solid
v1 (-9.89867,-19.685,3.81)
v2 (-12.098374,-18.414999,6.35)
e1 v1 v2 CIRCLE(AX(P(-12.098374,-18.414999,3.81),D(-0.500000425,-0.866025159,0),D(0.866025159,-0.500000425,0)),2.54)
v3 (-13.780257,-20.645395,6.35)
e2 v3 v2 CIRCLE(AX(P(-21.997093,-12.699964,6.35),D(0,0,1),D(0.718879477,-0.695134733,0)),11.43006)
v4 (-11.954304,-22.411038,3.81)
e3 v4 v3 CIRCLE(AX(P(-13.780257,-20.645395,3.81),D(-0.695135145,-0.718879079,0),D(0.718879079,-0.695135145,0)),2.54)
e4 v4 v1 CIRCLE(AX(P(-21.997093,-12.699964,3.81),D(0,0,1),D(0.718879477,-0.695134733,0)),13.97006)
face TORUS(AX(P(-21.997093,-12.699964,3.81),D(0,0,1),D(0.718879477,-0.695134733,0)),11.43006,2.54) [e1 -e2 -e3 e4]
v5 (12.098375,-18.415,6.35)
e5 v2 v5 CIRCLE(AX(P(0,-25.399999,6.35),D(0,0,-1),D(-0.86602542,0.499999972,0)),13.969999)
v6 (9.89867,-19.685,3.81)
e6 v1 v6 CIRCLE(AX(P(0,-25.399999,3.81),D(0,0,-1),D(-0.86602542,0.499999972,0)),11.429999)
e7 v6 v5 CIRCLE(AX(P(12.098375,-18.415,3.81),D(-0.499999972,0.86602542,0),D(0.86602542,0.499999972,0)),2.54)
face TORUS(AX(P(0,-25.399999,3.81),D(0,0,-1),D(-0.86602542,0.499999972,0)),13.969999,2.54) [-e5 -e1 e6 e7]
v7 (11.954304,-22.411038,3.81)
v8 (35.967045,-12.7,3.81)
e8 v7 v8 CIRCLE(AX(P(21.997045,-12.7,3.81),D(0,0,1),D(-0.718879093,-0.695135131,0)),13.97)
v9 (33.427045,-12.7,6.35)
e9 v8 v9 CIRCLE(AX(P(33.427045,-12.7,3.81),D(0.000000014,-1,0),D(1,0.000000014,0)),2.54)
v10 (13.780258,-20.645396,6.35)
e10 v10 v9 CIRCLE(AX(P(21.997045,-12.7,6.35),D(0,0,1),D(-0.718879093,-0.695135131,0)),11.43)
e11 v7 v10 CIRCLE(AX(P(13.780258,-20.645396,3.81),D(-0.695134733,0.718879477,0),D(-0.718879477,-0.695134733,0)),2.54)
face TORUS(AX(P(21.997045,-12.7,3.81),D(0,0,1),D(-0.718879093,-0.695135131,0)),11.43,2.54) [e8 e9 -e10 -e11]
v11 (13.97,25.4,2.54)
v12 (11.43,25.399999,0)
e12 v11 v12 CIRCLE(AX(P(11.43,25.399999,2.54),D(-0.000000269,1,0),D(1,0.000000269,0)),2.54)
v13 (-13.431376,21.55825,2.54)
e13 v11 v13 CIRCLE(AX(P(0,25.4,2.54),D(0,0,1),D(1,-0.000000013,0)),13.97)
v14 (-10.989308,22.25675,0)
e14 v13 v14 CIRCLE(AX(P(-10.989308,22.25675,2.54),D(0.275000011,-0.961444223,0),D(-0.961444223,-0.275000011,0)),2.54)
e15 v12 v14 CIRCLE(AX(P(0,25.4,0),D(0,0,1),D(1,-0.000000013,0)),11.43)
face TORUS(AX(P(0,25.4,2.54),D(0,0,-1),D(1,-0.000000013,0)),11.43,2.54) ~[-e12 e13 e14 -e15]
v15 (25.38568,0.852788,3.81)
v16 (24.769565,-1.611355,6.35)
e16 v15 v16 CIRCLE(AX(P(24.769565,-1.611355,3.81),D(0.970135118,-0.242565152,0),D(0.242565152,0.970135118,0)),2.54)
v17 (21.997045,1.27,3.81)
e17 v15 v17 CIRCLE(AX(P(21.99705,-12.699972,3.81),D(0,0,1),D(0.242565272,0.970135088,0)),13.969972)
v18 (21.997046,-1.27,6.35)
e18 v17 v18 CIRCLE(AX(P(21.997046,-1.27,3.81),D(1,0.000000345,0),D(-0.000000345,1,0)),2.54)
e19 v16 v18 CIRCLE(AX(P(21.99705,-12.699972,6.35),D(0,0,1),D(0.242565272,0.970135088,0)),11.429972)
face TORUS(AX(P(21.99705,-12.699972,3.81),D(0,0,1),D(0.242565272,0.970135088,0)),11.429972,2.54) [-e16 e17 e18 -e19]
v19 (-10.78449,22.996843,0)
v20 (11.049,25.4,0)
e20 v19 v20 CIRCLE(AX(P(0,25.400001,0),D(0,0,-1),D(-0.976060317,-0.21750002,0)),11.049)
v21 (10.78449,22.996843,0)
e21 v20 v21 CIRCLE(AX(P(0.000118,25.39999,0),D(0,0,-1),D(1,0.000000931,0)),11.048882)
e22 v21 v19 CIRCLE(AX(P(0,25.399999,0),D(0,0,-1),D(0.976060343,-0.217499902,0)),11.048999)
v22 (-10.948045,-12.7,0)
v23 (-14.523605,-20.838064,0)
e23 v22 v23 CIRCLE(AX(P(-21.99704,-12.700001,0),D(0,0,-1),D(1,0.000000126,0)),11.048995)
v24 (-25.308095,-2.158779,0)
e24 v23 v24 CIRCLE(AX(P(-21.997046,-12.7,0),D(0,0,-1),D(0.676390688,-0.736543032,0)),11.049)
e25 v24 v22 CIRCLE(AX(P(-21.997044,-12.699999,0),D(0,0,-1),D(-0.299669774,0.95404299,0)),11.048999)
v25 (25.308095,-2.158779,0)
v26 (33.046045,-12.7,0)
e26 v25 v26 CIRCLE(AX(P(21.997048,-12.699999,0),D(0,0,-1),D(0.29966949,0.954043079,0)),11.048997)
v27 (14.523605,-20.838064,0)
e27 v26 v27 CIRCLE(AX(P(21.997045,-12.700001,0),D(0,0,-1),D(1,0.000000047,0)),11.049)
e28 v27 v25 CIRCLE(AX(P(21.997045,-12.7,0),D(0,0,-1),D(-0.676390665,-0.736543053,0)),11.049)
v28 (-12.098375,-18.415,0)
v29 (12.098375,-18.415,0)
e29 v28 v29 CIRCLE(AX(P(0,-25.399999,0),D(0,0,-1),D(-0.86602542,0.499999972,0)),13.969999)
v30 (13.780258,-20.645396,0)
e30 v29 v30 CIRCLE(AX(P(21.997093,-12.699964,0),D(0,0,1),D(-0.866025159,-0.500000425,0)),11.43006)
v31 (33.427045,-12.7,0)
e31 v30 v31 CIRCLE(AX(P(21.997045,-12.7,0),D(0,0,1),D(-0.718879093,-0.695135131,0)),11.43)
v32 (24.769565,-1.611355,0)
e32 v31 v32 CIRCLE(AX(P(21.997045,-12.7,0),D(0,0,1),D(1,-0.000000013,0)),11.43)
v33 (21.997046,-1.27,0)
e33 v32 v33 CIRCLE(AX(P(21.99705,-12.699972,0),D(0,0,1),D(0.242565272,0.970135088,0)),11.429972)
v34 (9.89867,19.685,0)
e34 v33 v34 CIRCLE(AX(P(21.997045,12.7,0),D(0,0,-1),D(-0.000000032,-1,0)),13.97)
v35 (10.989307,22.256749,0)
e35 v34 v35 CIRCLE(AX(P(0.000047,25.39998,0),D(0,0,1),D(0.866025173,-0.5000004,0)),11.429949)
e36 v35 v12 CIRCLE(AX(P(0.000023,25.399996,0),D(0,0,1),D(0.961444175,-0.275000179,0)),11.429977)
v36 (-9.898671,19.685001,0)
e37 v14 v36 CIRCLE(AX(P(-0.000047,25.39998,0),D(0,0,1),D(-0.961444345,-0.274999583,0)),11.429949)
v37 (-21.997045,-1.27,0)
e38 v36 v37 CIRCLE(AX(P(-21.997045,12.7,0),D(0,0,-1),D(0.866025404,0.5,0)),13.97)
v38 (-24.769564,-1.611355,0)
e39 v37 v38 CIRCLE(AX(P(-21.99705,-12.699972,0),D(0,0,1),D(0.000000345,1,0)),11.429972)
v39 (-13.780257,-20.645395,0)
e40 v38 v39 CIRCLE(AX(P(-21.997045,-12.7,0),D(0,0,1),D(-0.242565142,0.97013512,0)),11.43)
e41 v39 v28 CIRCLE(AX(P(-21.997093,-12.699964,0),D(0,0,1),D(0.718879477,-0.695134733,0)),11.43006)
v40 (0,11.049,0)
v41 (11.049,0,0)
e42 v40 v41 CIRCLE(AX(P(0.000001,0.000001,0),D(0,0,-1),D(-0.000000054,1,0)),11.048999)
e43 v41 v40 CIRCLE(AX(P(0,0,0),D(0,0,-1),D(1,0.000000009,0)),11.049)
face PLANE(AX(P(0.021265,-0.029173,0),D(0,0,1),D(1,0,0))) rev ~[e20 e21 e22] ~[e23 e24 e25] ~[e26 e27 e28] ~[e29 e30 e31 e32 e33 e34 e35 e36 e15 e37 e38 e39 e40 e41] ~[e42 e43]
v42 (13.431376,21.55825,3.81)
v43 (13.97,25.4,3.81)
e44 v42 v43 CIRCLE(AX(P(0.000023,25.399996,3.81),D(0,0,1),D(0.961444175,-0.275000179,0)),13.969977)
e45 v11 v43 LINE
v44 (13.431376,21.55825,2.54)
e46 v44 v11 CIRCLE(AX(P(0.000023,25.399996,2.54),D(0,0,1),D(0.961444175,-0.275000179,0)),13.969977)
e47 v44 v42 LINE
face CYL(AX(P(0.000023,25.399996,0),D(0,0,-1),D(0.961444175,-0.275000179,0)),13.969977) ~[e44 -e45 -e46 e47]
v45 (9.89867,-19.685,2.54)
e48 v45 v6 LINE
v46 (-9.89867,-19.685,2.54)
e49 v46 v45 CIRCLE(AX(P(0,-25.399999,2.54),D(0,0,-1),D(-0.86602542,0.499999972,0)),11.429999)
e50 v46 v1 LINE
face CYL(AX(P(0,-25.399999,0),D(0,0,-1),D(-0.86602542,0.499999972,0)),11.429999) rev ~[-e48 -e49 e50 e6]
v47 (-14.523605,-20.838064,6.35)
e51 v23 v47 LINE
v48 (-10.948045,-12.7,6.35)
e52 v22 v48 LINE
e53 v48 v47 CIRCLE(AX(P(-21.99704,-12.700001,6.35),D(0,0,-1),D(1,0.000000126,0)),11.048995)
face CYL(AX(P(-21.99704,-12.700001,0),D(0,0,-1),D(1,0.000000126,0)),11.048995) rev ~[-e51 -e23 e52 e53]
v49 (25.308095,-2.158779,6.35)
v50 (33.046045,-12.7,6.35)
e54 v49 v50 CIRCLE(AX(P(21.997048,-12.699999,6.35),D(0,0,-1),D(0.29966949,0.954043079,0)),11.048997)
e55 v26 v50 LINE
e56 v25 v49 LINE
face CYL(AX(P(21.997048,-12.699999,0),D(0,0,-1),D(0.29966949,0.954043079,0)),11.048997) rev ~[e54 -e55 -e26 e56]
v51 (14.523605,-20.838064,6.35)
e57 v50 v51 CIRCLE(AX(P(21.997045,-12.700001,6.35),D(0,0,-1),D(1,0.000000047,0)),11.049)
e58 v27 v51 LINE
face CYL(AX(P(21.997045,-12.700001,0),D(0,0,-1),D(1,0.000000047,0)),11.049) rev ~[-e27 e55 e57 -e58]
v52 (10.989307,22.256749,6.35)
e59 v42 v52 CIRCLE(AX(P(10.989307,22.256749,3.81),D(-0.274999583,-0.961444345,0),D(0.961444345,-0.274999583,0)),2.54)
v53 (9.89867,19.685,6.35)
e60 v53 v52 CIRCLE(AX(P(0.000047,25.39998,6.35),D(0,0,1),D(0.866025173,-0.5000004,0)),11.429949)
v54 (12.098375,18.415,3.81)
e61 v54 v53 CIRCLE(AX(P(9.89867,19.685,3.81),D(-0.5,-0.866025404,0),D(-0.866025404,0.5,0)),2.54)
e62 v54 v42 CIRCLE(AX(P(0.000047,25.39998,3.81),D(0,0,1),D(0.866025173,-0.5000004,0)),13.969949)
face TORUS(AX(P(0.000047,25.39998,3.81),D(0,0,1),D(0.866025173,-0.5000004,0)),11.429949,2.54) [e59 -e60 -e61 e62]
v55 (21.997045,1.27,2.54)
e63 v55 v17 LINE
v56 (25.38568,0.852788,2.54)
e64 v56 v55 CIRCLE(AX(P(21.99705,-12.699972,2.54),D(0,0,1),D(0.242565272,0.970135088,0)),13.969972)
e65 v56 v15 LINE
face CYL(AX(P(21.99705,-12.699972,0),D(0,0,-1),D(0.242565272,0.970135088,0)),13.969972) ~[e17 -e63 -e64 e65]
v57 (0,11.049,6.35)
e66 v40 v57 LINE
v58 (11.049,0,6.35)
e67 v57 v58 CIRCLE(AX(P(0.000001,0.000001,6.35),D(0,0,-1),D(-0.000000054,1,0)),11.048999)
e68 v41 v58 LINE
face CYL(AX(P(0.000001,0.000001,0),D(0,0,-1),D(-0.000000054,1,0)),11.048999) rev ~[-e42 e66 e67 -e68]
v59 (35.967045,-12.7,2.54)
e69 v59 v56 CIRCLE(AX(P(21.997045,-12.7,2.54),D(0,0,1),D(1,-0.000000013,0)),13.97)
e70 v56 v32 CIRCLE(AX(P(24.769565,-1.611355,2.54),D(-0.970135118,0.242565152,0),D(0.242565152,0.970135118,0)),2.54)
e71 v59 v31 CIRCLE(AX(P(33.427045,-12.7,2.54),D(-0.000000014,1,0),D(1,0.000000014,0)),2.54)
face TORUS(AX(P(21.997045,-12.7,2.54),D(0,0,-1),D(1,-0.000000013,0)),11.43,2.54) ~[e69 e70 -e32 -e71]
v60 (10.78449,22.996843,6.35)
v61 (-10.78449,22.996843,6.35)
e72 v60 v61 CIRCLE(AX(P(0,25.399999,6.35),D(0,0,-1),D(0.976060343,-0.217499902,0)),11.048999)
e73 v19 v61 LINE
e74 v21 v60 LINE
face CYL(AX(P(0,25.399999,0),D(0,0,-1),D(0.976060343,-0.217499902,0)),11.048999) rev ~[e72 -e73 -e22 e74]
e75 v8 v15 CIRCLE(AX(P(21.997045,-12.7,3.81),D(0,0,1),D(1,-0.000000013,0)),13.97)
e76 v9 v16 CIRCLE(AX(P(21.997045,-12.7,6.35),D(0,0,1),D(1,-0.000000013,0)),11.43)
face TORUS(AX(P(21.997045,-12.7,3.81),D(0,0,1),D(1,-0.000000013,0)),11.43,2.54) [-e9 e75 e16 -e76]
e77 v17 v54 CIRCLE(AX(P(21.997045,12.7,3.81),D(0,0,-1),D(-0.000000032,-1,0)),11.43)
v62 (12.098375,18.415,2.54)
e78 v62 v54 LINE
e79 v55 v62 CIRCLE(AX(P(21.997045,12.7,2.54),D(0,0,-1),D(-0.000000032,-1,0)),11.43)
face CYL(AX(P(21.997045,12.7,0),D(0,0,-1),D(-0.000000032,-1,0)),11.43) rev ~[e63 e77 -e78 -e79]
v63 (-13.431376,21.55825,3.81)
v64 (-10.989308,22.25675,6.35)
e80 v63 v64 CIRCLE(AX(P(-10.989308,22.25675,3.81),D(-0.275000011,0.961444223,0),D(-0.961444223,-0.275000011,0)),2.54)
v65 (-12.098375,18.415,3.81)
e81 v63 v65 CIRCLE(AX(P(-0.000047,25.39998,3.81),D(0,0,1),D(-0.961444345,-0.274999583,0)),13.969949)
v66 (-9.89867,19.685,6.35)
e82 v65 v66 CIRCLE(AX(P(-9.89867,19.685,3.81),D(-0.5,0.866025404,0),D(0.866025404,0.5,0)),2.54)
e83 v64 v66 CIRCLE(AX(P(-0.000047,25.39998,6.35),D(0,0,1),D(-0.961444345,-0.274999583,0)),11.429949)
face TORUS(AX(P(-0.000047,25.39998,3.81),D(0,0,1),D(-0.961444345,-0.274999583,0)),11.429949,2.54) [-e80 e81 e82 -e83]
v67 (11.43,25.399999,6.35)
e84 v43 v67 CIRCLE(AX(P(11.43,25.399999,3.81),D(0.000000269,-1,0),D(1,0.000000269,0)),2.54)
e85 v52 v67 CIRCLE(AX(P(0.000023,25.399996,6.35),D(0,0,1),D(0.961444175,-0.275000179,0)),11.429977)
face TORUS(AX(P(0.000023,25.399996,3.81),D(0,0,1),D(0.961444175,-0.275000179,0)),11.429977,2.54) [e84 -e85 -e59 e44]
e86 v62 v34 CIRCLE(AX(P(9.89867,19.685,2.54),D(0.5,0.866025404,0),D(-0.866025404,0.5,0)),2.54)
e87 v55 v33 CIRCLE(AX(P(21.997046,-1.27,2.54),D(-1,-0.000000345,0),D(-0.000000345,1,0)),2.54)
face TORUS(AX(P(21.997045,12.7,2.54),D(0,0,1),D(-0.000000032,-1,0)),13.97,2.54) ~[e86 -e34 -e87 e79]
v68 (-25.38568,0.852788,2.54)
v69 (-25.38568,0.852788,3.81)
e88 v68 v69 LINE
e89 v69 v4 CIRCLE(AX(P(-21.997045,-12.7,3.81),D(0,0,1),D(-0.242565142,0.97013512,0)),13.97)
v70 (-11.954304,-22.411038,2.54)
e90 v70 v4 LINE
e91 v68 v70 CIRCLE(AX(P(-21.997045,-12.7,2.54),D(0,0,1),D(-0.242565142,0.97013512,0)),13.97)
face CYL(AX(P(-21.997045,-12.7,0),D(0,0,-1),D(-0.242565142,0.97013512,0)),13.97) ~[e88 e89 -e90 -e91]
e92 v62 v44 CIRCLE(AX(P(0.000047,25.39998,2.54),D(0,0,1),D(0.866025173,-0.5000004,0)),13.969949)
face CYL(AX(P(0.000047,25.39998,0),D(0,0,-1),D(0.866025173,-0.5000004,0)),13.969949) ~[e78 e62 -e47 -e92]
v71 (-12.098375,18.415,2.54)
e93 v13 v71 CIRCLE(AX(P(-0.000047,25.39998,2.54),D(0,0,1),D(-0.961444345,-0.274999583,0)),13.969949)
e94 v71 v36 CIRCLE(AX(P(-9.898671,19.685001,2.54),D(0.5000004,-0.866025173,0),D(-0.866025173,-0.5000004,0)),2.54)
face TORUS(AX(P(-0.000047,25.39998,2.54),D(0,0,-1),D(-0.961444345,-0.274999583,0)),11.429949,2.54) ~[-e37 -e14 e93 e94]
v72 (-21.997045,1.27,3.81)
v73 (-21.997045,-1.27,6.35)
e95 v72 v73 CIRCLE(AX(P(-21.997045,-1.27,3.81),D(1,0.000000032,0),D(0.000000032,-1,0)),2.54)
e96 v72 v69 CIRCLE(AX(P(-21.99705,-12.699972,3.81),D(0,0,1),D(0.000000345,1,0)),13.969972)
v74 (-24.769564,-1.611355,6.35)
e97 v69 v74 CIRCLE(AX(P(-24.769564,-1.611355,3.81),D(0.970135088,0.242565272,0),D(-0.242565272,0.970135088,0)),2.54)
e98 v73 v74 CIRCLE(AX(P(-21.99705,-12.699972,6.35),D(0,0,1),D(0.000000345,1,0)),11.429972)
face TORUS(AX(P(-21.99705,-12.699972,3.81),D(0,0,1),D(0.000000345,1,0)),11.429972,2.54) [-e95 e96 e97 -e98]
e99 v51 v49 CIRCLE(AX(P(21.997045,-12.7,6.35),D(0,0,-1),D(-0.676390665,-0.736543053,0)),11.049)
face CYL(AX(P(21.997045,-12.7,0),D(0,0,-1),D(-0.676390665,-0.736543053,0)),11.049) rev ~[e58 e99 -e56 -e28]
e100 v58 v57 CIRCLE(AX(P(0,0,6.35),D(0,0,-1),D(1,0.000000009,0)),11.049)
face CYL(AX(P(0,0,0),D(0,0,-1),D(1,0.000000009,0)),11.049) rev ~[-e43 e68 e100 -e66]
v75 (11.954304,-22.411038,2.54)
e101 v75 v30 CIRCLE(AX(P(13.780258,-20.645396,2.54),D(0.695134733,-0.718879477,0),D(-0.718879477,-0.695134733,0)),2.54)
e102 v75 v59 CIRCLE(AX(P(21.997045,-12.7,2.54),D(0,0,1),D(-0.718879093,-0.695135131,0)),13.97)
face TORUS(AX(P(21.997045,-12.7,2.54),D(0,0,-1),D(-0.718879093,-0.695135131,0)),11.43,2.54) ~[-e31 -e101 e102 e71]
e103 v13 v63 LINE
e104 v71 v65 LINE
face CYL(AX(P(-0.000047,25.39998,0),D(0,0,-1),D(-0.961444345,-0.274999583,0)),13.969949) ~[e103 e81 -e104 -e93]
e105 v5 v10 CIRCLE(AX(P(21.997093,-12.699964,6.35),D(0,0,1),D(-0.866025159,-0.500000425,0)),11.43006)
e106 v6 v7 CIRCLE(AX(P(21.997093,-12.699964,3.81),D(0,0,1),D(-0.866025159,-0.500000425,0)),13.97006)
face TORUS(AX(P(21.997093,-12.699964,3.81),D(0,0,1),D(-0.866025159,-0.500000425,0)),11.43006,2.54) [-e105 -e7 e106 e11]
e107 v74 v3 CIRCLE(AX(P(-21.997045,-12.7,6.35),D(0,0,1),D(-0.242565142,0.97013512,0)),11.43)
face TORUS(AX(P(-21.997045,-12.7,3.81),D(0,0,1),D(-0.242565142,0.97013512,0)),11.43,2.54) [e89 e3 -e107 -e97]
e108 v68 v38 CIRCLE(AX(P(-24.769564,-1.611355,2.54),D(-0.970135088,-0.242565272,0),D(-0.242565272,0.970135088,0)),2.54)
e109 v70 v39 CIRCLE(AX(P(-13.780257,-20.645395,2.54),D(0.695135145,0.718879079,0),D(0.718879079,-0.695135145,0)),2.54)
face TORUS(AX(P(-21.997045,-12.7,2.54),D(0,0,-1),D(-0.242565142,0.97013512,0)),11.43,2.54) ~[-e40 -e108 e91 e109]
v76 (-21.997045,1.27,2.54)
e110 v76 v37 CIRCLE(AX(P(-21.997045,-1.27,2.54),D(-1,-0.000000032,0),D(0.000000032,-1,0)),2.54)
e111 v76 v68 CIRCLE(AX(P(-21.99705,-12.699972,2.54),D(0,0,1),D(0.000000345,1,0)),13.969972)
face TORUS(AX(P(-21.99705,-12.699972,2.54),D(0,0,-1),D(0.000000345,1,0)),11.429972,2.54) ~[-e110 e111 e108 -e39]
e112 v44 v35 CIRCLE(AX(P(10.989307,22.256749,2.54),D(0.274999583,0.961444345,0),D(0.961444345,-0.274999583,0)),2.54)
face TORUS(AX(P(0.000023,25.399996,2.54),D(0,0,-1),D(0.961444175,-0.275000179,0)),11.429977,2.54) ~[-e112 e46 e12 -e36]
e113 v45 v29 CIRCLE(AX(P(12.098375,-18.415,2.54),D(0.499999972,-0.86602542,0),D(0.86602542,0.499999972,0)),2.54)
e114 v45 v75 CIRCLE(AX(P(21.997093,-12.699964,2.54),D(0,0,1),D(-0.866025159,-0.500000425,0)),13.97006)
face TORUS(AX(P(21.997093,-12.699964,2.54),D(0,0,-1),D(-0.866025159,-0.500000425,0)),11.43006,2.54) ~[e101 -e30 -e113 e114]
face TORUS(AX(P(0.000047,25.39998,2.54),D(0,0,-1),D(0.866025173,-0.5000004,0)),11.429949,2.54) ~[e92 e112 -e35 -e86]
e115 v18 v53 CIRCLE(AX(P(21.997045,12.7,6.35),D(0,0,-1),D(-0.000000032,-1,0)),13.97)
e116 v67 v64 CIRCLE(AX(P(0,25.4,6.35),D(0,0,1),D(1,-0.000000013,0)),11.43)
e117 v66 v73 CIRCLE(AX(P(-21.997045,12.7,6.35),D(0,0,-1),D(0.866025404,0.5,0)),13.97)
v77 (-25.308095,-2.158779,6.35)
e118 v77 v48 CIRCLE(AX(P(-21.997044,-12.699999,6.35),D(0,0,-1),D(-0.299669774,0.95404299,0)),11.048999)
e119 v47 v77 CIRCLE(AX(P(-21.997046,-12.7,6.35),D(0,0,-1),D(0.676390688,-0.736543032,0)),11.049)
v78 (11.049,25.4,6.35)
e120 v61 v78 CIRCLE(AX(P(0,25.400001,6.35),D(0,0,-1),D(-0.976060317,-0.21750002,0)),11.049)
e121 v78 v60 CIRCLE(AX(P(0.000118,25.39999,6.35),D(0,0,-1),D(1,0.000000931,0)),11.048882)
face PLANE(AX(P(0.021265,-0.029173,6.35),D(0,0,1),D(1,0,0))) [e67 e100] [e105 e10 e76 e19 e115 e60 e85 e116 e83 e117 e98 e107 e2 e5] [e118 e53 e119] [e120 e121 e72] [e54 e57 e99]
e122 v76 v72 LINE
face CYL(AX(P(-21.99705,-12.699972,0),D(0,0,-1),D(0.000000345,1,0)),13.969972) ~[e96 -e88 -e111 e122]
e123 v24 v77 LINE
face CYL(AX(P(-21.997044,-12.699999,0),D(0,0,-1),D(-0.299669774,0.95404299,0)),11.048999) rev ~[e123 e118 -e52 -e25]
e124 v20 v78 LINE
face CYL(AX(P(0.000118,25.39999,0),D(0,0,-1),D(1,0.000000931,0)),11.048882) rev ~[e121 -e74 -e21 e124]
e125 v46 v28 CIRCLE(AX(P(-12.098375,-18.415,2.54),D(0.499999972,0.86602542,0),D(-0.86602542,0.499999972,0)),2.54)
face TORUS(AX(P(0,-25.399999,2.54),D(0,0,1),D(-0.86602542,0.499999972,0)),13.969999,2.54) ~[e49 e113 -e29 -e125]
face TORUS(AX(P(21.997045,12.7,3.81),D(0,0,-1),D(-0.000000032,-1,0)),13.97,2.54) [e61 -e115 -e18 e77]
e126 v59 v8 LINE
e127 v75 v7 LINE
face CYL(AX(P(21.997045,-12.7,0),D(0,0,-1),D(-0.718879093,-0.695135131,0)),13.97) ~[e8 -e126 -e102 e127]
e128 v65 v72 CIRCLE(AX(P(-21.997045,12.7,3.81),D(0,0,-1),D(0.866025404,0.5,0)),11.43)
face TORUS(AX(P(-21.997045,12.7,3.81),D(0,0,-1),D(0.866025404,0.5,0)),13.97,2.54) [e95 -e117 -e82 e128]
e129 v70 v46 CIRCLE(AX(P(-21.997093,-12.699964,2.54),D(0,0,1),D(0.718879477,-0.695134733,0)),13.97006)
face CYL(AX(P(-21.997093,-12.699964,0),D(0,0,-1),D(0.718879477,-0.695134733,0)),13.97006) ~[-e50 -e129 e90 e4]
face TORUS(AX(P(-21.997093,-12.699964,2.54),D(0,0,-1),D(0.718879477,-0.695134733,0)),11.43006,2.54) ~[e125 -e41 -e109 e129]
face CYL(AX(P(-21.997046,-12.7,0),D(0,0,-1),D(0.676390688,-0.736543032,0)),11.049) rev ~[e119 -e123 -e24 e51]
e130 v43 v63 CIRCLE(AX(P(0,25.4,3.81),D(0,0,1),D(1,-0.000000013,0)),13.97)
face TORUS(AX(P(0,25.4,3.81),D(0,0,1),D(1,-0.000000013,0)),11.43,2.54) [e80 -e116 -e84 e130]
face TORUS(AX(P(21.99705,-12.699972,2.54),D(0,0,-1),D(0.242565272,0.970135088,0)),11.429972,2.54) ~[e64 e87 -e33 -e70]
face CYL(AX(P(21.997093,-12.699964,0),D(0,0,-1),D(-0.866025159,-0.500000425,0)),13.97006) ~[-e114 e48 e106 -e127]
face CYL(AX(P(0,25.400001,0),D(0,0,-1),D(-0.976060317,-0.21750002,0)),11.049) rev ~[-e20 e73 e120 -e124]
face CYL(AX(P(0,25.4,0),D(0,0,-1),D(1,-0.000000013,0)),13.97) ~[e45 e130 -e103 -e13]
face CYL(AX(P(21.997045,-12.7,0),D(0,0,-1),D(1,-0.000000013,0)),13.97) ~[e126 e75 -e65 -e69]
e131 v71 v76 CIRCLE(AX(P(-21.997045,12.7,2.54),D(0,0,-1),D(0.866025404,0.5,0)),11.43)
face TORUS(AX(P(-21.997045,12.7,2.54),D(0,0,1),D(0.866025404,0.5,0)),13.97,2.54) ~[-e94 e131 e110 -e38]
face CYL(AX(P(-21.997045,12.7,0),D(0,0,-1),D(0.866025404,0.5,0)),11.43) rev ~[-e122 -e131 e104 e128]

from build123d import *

# Parameters (mm, degrees)
F1_DEPTH = 6.35
F2_R     = 2.54


with BuildPart() as f1:
    # F0 (on Top) → F1 (new body)
    with BuildSketch(Plane.XY):
        with BuildLine():
            ThreePointArc((12.098375, 18.415), (6.985, 13.301625), (0, 11.43))
            ThreePointArc((0, 11.43), (-6.985, 13.301625), (-12.098375, 18.415))
            ThreePointArc((-12.098375, 18.415), (-12.098375, 6.985), (-21.997045, 1.27))
            ThreePointArc((-21.997045, 1.27), (-12.118764, -2.821718), (-8.027045, -12.7))
            ThreePointArc((-8.027045, -12.7), (-8.503061, -16.315702), (-9.89867, -19.685))
            ThreePointArc((-9.89867, -19.685), (0, -13.97), (9.89867, -19.685))
            ThreePointArc((9.89867, -19.685), (9.89867, -5.715), (21.997045, 1.27))
            ThreePointArc((21.997045, 1.27), (12.098375, 6.985), (12.098375, 18.415))
        make_face()
        with BuildLine():
            ThreePointArc((0, 11.049), (7.812823, 7.812823), (11.049, 0))
            ThreePointArc((11.049, 0), (-7.812823, -7.812823), (0, 11.049))
        make_face(mode=Mode.SUBTRACT)
        with BuildLine():
            ThreePointArc((-12.098375, 18.415), (-6.985, 13.301625), (0, 11.43))
            ThreePointArc((0, 11.43), (6.985, 13.301625), (12.098375, 18.415))
            ThreePointArc((12.098375, 18.415), (12.861262, 19.945749), (13.431376, 21.55825))
            ThreePointArc((13.431376, 21.55825), (12.12928, 22.316823), (10.78449, 22.996843))
            ThreePointArc((10.78449, 22.996843), (0, 14.351), (-10.78449, 22.996843))
            ThreePointArc((-10.78449, 22.996843), (-12.12928, 22.316823), (-13.431376, 21.55825))
            ThreePointArc((-13.431376, 21.55825), (-12.861262, 19.945749), (-12.098375, 18.415))
        make_face()
        with BuildLine():
            ThreePointArc((13.97, 25.4), (-1.939662, 39.234689), (-13.431376, 21.55825))
            ThreePointArc((-13.431376, 21.55825), (-12.12928, 22.316823), (-10.78449, 22.996843))
            ThreePointArc((-10.78449, 22.996843), (-1.208835, 36.382674), (11.049, 25.4))
            ThreePointArc((11.049, 25.4), (10.982674, 24.191165), (10.78449, 22.996843))
            ThreePointArc((10.78449, 22.996843), (12.12928, 22.316823), (13.431376, 21.55825))
            ThreePointArc((13.431376, 21.55825), (13.834689, 23.460338), (13.97, 25.4))
        make_face()
        with BuildLine():
            ThreePointArc((-8.027045, -12.7), (-12.118764, -2.821718), (-21.997045, 1.27))
            ThreePointArc((-21.997045, 1.27), (-23.704156, 1.165305), (-25.38568, 0.852788))
            ThreePointArc((-25.38568, 0.852788), (-25.391575, -0.654147), (-25.308095, -2.158779))
            ThreePointArc((-25.308095, -2.158779), (-15.458826, -3.793143), (-10.948045, -12.7))
            ThreePointArc((-10.948045, -12.7), (-11.881353, -17.144455), (-14.523605, -20.838064))
            ThreePointArc((-14.523605, -20.838064), (-13.262295, -21.662676), (-11.954304, -22.411038))
            ThreePointArc((-11.954304, -22.411038), (-10.842895, -21.111054), (-9.89867, -19.685))
            ThreePointArc((-9.89867, -19.685), (-8.503061, -16.315702), (-8.027045, -12.7))
        make_face()
        with BuildLine():
            ThreePointArc((25.38568, 0.852788), (23.704156, 1.165305), (21.997045, 1.27))
            ThreePointArc((21.997045, 1.27), (9.89867, -5.715), (9.89867, -19.685))
            ThreePointArc((9.89867, -19.685), (10.842895, -21.111054), (11.954304, -22.411038))
            ThreePointArc((11.954304, -22.411038), (13.262295, -21.662676), (14.523605, -20.838064))
            ThreePointArc((14.523605, -20.838064), (12.428331, -7.1755), (25.308095, -2.158779))
            ThreePointArc((25.308095, -2.158779), (25.391575, -0.654147), (25.38568, 0.852788))
        make_face()
        with BuildLine():
            ThreePointArc((-25.308095, -2.158779), (-25.391575, -0.654147), (-25.38568, 0.852788))
            ThreePointArc((-25.38568, 0.852788), (-34.09542, -19.685), (-11.954304, -22.411038))
            ThreePointArc((-11.954304, -22.411038), (-13.262295, -21.662676), (-14.523605, -20.838064))
            ThreePointArc((-14.523605, -20.838064), (-31.56576, -18.2245), (-25.308095, -2.158779))
        make_face()
        with BuildLine():
            ThreePointArc((35.967045, -12.7), (33.008406, -4.102859), (25.38568, 0.852788))
            ThreePointArc((25.38568, 0.852788), (25.391575, -0.654147), (25.308095, -2.158779))
            ThreePointArc((25.308095, -2.158779), (30.903902, -6.161781), (33.046045, -12.7))
            ThreePointArc((33.046045, -12.7), (26.4415, -22.815692), (14.523605, -20.838064))
            ThreePointArc((14.523605, -20.838064), (13.262295, -21.662676), (11.954304, -22.411038))
            ThreePointArc((11.954304, -22.411038), (27.234593, -25.651023), (35.967045, -12.7))
        make_face()
    extrude(amount=F1_DEPTH)

    # F2
    f2_edges = [f1.edges().sort_by_distance(p)[0] for p in [
        (-12.098375, 6.985, 6.35),
        (0, -13.97, 0),
    ]]
    fillet(f2_edges, radius=F2_R)


solid = f1.part
